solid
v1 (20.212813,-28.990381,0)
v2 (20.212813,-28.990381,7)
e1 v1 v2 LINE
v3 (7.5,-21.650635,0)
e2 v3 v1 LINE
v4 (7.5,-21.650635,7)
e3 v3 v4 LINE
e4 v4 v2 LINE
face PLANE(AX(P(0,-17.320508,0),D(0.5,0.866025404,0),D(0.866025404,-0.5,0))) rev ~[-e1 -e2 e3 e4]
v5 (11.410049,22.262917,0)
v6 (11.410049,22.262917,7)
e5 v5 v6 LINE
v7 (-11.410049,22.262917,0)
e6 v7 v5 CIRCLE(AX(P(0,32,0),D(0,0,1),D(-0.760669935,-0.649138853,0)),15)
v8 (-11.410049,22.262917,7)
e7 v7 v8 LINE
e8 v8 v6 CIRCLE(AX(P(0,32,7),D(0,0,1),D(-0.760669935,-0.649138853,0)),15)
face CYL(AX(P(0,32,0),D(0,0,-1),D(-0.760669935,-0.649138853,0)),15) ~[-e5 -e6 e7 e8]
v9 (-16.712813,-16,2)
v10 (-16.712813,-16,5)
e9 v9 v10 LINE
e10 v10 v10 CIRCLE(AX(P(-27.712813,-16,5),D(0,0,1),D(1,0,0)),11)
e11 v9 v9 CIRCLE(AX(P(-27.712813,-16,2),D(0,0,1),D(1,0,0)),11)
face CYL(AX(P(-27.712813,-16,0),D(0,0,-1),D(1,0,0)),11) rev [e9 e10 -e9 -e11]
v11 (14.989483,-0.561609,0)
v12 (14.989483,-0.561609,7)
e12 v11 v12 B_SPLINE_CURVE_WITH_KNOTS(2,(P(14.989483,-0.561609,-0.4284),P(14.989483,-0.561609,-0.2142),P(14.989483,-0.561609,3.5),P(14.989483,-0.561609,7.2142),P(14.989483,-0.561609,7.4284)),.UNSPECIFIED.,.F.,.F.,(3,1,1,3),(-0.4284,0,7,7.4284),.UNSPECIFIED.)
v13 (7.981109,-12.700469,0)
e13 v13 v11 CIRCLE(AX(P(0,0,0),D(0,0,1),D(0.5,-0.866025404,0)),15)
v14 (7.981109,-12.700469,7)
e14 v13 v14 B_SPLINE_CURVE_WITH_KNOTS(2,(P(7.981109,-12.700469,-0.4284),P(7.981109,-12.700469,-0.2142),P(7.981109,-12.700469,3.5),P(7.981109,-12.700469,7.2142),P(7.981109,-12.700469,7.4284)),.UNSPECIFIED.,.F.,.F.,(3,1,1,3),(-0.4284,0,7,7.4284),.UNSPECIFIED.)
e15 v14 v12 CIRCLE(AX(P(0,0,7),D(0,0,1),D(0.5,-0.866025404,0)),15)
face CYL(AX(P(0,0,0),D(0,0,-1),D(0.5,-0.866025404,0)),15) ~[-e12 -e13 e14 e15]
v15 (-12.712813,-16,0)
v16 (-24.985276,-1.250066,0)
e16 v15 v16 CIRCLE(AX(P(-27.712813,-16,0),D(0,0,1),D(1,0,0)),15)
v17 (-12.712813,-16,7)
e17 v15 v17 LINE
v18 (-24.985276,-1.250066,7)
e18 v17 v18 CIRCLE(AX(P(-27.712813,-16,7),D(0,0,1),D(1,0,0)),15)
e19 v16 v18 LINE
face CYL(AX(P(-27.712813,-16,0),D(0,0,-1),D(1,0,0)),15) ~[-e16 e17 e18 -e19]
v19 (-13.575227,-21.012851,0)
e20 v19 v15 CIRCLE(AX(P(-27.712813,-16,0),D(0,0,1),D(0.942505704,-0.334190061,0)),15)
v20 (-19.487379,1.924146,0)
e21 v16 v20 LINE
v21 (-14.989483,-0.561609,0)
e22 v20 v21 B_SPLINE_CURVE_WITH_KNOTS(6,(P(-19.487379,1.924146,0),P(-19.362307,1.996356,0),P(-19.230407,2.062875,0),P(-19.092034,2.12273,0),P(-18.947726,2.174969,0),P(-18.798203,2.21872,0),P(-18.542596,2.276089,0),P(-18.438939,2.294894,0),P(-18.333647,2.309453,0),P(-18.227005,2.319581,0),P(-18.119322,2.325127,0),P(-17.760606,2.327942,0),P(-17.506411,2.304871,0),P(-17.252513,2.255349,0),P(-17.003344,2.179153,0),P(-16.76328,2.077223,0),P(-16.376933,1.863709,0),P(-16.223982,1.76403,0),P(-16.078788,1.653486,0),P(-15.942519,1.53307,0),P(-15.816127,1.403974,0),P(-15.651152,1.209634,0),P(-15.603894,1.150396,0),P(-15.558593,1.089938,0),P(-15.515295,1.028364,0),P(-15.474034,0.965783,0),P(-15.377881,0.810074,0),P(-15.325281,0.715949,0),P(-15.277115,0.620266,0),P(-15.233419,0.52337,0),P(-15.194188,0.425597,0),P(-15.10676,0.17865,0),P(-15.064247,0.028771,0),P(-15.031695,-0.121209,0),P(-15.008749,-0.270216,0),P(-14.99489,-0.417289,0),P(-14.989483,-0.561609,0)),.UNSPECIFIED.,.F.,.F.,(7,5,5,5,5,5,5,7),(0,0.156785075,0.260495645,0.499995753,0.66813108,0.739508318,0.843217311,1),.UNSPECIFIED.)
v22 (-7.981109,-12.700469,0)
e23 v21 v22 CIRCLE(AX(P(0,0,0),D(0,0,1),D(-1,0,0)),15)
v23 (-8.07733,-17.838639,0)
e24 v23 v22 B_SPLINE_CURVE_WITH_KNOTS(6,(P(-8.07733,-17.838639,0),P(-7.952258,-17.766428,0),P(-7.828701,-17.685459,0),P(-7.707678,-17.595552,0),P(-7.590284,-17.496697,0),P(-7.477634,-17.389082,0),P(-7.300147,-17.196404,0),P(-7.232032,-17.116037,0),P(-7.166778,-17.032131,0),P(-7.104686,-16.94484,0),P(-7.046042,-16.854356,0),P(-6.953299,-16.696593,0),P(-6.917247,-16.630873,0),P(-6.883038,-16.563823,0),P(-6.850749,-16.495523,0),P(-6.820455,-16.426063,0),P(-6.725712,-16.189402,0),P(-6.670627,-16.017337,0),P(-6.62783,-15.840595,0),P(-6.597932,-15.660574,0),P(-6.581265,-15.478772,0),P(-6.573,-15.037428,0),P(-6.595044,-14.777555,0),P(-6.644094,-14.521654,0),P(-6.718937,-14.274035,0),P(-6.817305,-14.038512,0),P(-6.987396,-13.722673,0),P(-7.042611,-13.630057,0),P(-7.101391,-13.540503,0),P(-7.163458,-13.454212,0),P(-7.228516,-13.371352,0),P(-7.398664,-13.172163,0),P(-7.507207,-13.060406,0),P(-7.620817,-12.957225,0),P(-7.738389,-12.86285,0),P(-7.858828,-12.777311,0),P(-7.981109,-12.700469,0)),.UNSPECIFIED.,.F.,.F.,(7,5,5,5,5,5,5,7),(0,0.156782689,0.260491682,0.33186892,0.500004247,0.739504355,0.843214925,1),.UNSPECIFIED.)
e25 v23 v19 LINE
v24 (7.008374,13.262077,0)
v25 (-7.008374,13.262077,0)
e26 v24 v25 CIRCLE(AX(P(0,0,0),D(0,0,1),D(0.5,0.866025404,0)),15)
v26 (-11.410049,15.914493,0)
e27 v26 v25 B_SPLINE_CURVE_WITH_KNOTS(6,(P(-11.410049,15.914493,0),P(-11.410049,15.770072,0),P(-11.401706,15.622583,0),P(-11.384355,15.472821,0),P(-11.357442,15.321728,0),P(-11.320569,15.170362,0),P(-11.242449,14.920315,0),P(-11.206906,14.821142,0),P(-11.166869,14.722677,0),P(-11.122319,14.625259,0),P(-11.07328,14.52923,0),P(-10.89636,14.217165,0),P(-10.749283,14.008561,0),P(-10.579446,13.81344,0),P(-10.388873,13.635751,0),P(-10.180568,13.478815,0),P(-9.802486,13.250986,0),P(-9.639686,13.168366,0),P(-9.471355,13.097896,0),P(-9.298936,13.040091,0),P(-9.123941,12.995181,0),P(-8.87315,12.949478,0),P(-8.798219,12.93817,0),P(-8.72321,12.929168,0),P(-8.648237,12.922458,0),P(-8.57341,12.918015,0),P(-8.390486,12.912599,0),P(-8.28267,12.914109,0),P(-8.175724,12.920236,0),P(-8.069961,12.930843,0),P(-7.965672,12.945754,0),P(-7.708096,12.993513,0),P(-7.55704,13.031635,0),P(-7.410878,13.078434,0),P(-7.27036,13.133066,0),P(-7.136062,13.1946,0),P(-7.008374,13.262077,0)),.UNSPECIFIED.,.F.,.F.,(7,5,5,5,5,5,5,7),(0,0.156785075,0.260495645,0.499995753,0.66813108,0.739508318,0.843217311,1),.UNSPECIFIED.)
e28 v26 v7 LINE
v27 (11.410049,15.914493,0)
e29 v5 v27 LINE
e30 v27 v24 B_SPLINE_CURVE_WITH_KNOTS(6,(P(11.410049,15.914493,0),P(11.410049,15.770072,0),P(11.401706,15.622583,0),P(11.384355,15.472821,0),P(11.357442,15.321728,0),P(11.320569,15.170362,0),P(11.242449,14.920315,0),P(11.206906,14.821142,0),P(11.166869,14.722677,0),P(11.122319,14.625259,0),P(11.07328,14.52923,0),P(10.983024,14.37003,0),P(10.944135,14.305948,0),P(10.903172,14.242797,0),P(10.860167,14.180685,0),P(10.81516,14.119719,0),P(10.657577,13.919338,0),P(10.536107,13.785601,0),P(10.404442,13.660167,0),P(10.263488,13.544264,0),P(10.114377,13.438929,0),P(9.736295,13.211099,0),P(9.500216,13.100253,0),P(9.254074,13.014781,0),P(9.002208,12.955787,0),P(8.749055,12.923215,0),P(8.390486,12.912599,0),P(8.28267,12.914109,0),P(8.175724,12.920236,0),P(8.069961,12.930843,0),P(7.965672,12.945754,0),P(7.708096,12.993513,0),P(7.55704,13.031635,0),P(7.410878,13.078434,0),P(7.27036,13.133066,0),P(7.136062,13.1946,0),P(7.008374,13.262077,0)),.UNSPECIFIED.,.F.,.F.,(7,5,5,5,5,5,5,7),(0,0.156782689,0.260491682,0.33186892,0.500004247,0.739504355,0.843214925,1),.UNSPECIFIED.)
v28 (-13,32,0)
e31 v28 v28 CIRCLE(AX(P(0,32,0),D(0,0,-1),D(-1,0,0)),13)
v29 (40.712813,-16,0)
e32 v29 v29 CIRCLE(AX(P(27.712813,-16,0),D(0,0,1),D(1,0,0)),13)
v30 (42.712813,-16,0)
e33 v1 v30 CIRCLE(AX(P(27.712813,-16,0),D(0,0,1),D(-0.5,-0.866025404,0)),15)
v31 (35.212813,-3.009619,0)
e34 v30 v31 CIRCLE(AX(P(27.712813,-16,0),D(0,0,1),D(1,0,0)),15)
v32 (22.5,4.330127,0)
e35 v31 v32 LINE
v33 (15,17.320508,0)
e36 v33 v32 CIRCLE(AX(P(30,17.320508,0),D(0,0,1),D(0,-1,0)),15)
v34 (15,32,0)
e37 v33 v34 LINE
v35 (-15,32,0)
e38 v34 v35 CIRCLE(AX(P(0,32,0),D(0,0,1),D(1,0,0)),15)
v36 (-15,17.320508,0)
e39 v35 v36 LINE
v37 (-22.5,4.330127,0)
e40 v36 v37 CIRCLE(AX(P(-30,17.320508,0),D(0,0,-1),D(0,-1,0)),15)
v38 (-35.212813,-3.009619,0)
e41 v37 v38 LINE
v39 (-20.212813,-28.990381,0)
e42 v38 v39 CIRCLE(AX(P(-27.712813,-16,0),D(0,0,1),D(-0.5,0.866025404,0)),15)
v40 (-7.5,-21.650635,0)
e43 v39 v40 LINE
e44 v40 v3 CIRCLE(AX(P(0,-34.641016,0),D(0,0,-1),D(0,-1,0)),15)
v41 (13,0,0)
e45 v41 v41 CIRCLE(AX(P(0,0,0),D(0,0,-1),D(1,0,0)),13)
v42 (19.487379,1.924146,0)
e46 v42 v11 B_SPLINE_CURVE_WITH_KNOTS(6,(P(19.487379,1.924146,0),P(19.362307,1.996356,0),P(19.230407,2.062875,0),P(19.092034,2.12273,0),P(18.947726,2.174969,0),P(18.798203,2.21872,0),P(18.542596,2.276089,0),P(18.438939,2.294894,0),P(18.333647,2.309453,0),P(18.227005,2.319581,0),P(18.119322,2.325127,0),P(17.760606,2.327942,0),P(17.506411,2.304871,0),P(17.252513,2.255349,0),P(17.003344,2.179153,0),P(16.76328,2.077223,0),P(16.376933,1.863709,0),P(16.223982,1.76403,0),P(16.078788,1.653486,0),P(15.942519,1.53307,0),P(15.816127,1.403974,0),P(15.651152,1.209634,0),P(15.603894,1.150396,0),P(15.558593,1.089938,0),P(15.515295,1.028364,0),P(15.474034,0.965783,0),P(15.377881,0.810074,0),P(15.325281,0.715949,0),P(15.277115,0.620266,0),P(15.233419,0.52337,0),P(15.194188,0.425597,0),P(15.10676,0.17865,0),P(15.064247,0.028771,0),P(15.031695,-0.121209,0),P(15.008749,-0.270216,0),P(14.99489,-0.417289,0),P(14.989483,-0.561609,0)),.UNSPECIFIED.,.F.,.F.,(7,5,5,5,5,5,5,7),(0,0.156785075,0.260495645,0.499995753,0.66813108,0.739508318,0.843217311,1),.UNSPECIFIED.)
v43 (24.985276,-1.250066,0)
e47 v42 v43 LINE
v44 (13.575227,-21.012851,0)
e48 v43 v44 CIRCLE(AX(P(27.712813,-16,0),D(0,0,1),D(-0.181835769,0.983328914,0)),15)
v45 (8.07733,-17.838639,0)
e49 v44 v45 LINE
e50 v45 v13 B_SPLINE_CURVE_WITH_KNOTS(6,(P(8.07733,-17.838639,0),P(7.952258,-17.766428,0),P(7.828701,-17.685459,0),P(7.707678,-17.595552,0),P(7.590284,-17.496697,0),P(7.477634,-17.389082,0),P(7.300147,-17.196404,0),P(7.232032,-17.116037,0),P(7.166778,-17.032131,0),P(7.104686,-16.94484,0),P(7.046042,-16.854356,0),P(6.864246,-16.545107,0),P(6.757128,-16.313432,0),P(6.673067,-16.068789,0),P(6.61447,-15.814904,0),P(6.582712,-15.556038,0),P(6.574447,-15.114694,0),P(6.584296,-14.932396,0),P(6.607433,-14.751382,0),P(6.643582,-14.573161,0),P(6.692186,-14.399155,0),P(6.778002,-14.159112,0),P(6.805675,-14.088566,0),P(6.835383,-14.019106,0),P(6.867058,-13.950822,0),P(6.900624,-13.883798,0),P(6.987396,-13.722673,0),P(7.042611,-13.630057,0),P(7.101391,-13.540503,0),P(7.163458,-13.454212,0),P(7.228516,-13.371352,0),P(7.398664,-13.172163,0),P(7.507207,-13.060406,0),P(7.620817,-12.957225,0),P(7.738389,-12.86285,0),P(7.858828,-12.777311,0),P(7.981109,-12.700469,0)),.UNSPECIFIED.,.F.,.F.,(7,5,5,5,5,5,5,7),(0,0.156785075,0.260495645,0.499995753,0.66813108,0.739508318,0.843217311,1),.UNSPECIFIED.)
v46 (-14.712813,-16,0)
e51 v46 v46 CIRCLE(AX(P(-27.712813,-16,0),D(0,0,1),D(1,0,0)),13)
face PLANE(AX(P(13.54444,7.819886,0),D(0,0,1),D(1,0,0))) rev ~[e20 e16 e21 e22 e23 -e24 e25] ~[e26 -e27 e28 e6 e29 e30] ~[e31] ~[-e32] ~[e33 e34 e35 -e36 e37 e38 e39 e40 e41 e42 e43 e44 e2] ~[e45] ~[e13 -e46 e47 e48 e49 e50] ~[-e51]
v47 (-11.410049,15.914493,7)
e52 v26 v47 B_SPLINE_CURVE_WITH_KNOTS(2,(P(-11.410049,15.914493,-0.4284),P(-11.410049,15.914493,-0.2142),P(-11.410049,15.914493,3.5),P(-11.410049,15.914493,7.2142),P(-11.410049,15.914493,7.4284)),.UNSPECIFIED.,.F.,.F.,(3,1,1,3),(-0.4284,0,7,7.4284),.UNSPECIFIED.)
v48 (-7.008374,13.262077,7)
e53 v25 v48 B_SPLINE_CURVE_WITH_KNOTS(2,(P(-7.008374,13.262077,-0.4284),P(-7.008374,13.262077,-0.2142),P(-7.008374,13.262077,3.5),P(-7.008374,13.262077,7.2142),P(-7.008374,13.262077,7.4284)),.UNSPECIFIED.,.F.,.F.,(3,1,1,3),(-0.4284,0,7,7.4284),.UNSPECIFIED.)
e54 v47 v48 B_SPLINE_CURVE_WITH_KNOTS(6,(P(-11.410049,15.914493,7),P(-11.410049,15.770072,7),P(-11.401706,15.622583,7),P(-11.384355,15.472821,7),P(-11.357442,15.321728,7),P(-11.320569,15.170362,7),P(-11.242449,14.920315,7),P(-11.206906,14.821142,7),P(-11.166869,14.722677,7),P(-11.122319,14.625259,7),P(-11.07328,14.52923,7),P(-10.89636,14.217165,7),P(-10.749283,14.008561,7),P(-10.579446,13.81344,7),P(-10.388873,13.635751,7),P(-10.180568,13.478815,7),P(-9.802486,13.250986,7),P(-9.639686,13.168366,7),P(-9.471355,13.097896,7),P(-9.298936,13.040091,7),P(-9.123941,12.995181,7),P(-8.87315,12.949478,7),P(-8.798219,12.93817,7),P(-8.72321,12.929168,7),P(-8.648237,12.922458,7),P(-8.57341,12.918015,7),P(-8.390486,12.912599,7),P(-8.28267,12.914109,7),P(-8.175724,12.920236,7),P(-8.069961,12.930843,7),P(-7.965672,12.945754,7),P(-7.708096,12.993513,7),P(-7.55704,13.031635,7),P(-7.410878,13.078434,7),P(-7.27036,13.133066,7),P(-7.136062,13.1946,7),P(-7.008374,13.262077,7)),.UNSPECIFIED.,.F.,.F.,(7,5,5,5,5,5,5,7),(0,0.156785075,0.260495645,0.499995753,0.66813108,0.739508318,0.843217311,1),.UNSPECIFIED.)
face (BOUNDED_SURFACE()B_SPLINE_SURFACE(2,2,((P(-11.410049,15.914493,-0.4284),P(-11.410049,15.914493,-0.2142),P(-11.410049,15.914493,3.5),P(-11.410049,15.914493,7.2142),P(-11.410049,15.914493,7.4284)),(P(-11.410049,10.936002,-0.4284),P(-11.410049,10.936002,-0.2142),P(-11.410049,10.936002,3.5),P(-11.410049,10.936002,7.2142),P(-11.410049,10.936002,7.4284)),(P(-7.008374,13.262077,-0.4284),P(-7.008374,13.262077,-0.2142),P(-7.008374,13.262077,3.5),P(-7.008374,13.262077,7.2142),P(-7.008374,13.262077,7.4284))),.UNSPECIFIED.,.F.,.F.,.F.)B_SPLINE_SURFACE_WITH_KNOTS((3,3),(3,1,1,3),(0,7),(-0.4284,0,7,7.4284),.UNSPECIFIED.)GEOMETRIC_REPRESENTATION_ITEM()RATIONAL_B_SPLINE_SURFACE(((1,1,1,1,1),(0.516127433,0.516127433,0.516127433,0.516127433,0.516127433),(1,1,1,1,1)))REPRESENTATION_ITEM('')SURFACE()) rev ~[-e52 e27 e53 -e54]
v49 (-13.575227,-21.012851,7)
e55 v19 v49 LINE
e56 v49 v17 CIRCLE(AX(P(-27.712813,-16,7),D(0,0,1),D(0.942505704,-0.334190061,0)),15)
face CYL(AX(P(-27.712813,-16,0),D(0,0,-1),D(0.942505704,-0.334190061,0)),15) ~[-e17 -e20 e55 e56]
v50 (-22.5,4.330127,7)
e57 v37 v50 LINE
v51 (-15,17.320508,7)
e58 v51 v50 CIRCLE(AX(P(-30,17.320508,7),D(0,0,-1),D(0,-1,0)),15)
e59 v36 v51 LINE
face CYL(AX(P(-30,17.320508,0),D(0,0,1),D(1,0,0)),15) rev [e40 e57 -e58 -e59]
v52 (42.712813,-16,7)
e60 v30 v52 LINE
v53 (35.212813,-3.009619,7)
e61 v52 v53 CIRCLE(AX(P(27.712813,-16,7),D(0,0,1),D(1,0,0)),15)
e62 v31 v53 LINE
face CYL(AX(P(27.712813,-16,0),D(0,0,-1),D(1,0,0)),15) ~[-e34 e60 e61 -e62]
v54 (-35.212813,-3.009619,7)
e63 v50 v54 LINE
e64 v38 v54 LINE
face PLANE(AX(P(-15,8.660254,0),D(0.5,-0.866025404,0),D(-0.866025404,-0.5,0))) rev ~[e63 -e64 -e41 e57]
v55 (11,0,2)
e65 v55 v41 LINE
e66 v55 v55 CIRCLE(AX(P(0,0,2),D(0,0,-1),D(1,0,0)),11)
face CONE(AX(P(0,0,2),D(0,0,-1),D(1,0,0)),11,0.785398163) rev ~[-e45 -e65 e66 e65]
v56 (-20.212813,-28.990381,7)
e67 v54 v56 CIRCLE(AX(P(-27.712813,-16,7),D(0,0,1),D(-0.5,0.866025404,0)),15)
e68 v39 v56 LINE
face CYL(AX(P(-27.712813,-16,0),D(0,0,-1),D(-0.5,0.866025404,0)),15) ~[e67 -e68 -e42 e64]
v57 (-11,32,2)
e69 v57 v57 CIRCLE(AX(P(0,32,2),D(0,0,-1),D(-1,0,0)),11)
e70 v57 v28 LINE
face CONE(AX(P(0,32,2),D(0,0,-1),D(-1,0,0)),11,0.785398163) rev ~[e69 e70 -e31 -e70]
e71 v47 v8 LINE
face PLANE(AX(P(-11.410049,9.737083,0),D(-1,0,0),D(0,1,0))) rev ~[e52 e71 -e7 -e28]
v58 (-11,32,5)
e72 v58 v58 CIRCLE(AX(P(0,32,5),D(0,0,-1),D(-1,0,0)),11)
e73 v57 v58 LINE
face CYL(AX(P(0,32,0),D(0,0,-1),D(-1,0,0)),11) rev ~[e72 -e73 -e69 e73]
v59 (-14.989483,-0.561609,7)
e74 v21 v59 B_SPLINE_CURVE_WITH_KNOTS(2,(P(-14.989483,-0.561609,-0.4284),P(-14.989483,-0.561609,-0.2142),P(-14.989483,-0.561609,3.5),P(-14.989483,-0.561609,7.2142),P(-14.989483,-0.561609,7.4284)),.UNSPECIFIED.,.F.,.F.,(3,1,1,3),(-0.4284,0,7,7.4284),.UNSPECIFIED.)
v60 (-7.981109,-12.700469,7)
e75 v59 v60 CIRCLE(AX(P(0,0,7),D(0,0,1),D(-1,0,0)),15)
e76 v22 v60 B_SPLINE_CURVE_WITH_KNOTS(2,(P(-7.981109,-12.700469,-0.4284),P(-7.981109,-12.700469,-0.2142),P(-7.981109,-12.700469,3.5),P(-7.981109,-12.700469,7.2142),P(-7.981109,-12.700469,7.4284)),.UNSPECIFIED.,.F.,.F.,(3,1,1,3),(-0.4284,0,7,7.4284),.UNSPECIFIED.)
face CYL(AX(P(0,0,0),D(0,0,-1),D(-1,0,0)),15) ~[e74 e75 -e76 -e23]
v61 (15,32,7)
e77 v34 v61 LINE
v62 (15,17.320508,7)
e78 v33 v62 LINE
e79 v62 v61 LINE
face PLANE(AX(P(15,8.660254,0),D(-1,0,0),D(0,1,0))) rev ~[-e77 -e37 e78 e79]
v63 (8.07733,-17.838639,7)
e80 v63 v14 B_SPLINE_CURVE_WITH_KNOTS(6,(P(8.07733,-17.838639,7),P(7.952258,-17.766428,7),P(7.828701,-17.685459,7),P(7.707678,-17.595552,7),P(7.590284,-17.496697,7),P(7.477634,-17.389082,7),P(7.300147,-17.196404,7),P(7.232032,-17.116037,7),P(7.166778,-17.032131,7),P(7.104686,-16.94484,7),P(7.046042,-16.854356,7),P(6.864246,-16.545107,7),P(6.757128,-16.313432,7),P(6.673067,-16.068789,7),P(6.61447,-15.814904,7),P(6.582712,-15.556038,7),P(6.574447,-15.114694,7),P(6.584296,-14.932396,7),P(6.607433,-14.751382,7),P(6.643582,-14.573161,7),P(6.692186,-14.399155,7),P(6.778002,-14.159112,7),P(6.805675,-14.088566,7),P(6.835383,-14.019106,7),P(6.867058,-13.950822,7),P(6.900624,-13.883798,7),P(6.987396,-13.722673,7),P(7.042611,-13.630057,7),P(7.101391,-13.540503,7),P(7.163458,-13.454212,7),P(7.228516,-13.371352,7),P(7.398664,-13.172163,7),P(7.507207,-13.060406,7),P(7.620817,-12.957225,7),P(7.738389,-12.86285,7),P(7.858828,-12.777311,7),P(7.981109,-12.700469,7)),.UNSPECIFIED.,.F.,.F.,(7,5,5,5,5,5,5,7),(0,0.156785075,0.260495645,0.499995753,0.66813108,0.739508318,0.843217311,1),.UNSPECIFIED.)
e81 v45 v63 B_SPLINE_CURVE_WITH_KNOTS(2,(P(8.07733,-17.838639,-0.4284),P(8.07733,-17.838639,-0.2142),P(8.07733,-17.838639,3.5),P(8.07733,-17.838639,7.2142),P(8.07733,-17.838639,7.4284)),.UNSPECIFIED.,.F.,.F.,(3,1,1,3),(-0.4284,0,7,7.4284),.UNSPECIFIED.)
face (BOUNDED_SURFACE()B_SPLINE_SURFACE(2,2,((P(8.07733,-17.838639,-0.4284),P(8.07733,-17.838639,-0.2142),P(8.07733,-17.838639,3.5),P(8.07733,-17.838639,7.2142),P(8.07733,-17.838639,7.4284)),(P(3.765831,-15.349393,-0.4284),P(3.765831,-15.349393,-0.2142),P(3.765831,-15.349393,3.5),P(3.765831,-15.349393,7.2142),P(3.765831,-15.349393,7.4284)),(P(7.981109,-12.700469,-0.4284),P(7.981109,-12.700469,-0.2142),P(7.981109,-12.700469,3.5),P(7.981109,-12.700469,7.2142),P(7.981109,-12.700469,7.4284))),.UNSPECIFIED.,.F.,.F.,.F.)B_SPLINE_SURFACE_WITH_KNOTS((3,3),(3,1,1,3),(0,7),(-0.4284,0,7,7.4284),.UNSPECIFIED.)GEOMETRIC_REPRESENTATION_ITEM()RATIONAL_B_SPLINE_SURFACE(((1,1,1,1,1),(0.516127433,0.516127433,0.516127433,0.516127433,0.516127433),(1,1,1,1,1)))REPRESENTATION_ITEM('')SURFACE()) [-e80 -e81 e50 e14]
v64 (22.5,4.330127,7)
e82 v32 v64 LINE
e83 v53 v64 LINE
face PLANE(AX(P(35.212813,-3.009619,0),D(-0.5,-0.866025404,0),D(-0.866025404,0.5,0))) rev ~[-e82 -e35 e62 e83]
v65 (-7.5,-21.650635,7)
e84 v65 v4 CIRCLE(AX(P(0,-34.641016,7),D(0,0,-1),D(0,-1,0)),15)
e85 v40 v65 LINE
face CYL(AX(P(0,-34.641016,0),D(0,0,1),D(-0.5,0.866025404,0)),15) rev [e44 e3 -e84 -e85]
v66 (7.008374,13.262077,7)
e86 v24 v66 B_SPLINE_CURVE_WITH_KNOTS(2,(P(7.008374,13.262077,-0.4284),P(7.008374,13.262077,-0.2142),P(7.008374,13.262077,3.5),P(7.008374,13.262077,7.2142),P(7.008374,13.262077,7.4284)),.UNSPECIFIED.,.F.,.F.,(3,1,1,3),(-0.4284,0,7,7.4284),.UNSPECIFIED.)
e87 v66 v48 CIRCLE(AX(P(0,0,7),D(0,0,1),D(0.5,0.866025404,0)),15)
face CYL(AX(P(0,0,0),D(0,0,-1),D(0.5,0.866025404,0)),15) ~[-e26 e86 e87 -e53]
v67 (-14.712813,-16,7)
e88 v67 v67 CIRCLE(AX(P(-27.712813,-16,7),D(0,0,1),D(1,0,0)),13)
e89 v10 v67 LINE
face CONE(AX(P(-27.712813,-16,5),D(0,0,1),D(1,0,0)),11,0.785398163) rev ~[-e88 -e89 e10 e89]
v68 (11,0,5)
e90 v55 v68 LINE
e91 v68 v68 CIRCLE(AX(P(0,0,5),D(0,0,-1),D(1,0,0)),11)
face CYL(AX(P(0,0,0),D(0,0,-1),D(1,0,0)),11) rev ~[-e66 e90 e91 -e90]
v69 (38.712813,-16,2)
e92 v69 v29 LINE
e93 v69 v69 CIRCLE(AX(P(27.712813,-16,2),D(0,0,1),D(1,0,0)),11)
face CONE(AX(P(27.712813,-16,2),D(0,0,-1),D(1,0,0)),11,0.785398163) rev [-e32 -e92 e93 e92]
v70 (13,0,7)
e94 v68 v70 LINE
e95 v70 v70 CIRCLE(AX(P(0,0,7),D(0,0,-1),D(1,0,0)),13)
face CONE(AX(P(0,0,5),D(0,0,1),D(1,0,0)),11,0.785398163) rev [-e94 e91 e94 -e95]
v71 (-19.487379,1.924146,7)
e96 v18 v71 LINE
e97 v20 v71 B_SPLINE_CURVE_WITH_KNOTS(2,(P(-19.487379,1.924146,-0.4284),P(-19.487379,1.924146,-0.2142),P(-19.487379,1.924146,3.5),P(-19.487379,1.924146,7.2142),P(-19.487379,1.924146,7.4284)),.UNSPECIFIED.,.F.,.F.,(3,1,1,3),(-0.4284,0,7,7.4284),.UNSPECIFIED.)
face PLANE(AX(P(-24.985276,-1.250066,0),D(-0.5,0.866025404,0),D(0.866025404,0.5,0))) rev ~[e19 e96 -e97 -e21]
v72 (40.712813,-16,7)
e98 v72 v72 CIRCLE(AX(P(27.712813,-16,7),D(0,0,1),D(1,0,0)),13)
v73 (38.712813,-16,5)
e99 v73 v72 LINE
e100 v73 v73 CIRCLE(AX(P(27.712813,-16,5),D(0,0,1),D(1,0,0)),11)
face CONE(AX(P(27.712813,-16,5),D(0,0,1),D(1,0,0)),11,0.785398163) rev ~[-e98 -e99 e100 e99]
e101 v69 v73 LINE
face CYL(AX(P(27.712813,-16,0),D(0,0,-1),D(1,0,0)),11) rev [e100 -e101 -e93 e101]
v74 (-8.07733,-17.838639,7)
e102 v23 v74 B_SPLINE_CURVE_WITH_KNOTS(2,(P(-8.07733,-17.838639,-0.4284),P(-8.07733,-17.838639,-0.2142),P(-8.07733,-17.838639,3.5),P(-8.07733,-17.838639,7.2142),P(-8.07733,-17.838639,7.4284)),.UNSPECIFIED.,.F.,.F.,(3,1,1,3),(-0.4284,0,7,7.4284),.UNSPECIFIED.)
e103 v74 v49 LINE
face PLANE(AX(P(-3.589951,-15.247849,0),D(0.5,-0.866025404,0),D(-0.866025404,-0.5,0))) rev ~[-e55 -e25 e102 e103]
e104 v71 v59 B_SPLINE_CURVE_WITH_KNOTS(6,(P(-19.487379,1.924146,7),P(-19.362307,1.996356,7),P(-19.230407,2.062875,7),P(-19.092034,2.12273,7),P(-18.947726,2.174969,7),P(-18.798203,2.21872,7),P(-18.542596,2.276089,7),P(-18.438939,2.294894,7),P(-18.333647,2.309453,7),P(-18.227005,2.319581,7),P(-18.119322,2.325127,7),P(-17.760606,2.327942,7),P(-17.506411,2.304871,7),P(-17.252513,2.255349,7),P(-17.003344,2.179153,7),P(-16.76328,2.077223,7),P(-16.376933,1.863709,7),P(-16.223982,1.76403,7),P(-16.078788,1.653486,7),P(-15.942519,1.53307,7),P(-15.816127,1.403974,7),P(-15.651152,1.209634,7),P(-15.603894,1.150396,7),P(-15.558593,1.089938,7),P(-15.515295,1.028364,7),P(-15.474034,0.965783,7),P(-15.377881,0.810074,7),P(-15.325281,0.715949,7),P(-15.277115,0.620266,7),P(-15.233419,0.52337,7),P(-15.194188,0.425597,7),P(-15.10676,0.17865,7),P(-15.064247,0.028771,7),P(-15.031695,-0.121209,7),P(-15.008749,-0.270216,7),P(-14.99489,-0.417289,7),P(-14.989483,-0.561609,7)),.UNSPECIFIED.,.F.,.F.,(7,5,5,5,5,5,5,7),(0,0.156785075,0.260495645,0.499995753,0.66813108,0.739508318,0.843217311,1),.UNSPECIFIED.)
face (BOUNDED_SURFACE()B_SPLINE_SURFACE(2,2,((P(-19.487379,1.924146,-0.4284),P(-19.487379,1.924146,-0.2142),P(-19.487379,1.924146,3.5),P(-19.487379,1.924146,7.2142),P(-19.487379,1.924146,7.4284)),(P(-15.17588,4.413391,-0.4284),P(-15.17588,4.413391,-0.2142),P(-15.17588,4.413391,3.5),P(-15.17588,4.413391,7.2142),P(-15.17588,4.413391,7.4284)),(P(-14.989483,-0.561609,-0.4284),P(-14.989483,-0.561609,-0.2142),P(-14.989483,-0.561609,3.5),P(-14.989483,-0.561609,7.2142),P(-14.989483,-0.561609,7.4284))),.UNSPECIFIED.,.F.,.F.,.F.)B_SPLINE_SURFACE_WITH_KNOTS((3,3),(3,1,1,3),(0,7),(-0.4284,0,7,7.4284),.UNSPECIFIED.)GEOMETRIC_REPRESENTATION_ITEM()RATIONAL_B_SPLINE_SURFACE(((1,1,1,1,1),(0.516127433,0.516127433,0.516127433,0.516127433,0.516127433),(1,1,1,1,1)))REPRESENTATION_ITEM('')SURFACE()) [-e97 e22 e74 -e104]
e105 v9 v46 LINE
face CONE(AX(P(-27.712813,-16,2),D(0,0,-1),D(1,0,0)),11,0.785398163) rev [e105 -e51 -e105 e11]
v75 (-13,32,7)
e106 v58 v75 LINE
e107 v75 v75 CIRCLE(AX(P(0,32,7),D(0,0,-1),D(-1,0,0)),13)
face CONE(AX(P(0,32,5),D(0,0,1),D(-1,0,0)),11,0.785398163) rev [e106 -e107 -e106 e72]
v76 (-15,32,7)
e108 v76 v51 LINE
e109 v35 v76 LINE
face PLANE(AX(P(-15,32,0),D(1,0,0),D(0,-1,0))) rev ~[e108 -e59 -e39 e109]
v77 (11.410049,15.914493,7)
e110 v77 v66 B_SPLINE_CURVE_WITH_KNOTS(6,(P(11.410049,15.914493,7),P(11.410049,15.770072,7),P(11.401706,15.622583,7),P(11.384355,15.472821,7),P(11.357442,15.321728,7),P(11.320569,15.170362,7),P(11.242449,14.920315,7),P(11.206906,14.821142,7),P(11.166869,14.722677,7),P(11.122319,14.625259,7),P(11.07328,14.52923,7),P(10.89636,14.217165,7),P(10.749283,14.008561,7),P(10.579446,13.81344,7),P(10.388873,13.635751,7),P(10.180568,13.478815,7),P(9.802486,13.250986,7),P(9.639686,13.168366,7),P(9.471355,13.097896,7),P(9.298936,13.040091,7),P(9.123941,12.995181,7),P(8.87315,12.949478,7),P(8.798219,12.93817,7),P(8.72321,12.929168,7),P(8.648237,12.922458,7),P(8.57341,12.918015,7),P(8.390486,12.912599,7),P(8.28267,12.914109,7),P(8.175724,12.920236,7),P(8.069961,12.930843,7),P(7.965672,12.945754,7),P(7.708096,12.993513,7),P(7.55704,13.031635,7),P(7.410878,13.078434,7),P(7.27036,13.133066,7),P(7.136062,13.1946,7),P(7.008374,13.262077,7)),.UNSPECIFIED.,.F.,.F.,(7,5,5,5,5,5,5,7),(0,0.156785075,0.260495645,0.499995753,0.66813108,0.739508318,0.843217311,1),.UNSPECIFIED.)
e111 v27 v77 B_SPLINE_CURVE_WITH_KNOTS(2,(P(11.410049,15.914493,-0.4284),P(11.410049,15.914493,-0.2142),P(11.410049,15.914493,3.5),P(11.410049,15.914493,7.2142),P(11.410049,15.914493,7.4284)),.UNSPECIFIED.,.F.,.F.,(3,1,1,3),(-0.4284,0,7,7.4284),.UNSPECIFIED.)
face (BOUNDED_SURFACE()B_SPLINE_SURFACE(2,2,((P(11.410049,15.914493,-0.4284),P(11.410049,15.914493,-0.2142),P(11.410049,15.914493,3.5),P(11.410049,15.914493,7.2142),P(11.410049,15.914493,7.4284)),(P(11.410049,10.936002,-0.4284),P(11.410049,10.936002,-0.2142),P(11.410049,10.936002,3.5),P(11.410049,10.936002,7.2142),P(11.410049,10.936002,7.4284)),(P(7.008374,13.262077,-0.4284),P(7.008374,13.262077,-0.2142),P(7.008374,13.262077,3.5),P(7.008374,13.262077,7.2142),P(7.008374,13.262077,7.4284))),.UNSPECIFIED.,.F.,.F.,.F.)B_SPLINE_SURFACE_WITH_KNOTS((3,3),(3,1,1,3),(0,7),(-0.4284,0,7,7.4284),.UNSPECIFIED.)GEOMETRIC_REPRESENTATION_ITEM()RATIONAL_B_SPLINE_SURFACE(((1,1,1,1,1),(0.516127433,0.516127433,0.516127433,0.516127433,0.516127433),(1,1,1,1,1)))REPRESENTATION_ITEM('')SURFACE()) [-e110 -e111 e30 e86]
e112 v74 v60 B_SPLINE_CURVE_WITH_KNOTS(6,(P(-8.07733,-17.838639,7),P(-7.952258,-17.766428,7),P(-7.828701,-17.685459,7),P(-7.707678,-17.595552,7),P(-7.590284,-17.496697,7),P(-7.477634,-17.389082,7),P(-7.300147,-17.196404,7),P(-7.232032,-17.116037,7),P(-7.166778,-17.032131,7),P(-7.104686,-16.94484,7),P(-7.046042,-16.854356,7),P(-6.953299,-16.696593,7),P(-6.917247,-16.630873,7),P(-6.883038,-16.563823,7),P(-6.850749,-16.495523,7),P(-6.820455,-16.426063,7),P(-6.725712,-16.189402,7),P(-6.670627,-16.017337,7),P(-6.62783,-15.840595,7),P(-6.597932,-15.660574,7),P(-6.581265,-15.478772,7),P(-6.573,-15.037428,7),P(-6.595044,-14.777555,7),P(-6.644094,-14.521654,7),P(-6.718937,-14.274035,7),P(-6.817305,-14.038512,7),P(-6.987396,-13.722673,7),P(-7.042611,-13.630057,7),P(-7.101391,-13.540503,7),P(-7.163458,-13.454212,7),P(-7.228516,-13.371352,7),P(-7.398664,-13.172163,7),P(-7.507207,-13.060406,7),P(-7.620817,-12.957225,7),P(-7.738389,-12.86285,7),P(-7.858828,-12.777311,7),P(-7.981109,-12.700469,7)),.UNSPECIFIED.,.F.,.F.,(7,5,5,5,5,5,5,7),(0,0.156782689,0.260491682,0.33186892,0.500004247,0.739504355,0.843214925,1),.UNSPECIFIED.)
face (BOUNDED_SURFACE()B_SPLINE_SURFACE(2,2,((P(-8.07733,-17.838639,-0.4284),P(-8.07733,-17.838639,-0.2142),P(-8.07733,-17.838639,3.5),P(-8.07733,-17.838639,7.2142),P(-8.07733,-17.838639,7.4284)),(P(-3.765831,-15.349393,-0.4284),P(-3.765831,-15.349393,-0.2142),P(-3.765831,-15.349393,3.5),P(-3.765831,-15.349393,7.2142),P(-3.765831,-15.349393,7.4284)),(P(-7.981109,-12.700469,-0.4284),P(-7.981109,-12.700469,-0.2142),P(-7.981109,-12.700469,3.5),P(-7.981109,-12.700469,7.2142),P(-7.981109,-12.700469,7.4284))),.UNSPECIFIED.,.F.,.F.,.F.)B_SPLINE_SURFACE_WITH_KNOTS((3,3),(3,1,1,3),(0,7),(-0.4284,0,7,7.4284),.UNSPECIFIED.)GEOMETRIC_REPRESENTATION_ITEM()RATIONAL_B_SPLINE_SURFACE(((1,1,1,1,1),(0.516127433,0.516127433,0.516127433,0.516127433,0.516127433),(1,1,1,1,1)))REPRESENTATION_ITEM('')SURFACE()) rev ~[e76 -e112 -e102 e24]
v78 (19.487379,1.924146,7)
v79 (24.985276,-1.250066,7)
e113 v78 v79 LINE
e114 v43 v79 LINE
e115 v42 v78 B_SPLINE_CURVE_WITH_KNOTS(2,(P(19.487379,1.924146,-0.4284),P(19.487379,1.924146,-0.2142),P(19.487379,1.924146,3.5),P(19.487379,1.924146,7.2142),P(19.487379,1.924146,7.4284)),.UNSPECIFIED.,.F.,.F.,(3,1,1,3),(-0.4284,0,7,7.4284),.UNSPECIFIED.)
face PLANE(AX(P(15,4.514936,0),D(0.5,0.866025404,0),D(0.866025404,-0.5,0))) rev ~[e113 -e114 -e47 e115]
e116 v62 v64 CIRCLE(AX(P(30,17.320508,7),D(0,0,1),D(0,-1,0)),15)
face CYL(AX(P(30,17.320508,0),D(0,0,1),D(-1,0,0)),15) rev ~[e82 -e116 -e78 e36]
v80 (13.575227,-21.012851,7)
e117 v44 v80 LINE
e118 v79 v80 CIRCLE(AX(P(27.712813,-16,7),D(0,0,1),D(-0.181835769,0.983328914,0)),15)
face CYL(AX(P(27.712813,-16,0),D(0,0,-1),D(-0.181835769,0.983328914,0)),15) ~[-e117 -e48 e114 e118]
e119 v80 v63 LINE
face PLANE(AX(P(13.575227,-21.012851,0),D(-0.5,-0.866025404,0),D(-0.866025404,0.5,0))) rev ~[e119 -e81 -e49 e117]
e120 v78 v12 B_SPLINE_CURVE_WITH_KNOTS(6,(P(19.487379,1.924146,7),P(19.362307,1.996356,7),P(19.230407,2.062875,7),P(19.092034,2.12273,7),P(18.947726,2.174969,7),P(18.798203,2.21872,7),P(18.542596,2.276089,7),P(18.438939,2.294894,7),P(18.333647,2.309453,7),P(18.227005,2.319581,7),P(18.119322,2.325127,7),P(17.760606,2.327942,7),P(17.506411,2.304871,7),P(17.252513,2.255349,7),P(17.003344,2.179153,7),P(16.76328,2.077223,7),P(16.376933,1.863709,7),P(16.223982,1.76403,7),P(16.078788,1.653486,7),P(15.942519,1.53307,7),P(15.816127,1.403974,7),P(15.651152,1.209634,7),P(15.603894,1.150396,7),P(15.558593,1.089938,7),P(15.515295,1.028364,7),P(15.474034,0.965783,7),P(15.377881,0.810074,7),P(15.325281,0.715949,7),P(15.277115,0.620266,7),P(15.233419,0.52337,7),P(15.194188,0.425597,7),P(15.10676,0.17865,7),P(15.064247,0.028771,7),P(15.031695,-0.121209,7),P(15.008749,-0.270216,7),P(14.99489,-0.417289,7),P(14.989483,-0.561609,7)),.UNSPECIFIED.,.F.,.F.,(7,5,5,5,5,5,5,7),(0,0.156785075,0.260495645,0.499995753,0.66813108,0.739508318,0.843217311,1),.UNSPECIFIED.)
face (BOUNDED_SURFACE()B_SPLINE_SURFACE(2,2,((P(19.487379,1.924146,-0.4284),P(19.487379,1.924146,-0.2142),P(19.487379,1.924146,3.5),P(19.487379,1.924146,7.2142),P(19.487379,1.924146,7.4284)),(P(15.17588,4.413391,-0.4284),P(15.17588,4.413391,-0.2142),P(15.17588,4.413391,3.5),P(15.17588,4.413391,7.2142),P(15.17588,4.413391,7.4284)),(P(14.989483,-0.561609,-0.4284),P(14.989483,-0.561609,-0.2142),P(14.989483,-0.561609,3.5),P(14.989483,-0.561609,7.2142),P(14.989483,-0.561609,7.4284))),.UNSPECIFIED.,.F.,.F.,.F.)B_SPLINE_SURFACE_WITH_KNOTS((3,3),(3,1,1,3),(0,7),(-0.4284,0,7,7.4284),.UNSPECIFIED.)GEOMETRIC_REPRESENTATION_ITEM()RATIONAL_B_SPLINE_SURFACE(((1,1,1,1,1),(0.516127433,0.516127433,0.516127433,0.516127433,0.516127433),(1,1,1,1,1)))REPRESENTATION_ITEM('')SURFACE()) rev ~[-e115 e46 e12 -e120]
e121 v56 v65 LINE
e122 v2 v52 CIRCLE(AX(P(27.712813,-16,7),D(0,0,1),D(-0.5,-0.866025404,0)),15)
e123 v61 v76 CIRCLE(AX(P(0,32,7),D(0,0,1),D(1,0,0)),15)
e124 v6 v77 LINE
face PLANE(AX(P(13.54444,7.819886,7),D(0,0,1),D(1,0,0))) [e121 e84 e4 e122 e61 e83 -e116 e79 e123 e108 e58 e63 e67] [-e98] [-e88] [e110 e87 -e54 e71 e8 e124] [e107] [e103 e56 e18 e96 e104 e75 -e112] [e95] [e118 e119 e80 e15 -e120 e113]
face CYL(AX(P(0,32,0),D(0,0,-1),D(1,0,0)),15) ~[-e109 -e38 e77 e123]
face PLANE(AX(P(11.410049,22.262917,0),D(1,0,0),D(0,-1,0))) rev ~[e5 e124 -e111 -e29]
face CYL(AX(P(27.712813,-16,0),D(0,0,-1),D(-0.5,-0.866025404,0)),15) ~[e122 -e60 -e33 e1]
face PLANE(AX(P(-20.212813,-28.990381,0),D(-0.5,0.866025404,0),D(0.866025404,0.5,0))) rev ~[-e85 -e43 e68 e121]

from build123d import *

# Parameters (mm, degrees)
F0_R     = 11
F1_DEPTH = 7
F2_SIZE  = 2
F3_R     = 15
F4_R     = 3


with BuildPart() as f1:
    # F0 (on Top) → F1 (new body)
    with BuildSketch(Plane.XY):
        with BuildLine():
            ThreePointArc((11.4100490265, 9.7370827876), (12.9903810568, 7.5), (14.1375855661, 5.0128509216))
            Line((14.1375855661, 5.0128509216), (15, 4.514935716))
            Line((15, 4.514935716), (15, 8.6602540378))
            Line((15, 8.6602540378), (11.4100490265, 10.7329131988))
            Line((11.4100490265, 10.7329131988), (11.4100490265, 9.7370827876))
        make_face()
        with BuildLine():
            Line((15, 8.6602540378), (15, 4.514935716))
            Line((15, 4.514935716), (24.9852763815, -1.2500662908))
            ThreePointArc((24.9852763815, -1.2500662908), (30.2560605014, -1.2171757859), (35.2128129211, -3.0096189432))
            Line((35.2128129211, -3.0096189432), (15, 8.6602540378))
        make_face()
        with BuildLine():
            Line((-15, 4.514935716), (-14.1375855661, 5.0128509216))
            ThreePointArc((-14.1375855661, 5.0128509216), (-12.9903810568, 7.5), (-11.4100490265, 9.7370827876))
            Line((-11.4100490265, 9.7370827876), (-11.4100490265, 10.7329131988))
            Line((-11.4100490265, 10.7329131988), (-15, 8.6602540378))
            Line((-15, 8.6602540378), (-15, 4.514935716))
        make_face()
        with BuildLine():
            Line((-24.9852763815, -1.2500662908), (-15, 4.514935716))
            Line((-15, 4.514935716), (-15, 8.6602540378))
            Line((-15, 8.6602540378), (-35.2128129211, -3.0096189432))
            ThreePointArc((-35.2128129211, -3.0096189432), (-30.2560605014, -1.2171757859), (-24.9852763815, -1.2500662908))
        make_face()
        with BuildLine():
            Line((3.5899509735, -15.2478489148), (2.7275365396, -14.7499337092))
            ThreePointArc((2.7275365396, -14.7499337092), (0, -15), (-2.7275365396, -14.7499337092))
            Line((-2.7275365396, -14.7499337092), (-3.5899509735, -15.2478489148))
            Line((-3.5899509735, -15.2478489148), (0, -17.3205080757))
            Line((0, -17.3205080757), (3.5899509735, -15.2478489148))
        make_face()
        with BuildLine():
            Line((13.575227355, -21.0128509216), (3.5899509735, -15.2478489148))
            Line((3.5899509735, -15.2478489148), (0, -17.3205080757))
            Line((0, -17.3205080757), (20.2128129211, -28.9903810568))
            ThreePointArc((20.2128129211, -28.9903810568), (16.1821354021, -25.5939291197), (13.575227355, -21.0128509216))
        make_face()
        with BuildLine():
            Line((11.4100490265, 10.7329131988), (15, 8.6602540378))
            Line((15, 8.6602540378), (15, 32))
            ThreePointArc((15, 32), (14.0739250992, 26.8111049056), (11.4100490265, 22.2629172124))
            Line((11.4100490265, 22.2629172124), (11.4100490265, 10.7329131988))
        make_face()
        with BuildLine():
            ThreePointArc((35.2128129211, -3.0096189432), (30.2560605014, -1.2171757859), (24.9852763815, -1.2500662908))
            ThreePointArc((24.9852763815, -1.2500662908), (14.7224318643, -8.5), (13.575227355, -21.0128509216))
            ThreePointArc((13.575227355, -21.0128509216), (16.1821354021, -25.5939291197), (20.2128129211, -28.9903810568))
            ThreePointArc((20.2128129211, -28.9903810568), (35.2128129211, -28.9903810568), (42.7128129211, -16))
            ThreePointArc((42.7128129211, -16), (40.7031939779, -8.5), (35.2128129211, -3.0096189432))
        make_face()
        with Locations((27.7128129211, -16)):
            Circle(F0_R, mode=Mode.SUBTRACT)
        with BuildLine():
            Line((0, -17.3205080757), (-3.5899509735, -15.2478489148))
            Line((-3.5899509735, -15.2478489148), (-13.575227355, -21.0128509216))
            ThreePointArc((-13.575227355, -21.0128509216), (-16.1821354021, -25.5939291197), (-20.2128129211, -28.9903810568))
            Line((-20.2128129211, -28.9903810568), (0, -17.3205080757))
        make_face()
        with BuildLine():
            Line((-15, 32), (-15, 8.6602540378))
            Line((-15, 8.6602540378), (-11.4100490265, 10.7329131988))
            Line((-11.4100490265, 10.7329131988), (-11.4100490265, 22.2629172124))
            ThreePointArc((-11.4100490265, 22.2629172124), (-14.0739250992, 26.8111049056), (-15, 32))
        make_face()
        with BuildLine():
            ThreePointArc((-12.7128129211, -16), (-16.1821354021, -6.4060708803), (-24.9852763815, -1.2500662908))
            ThreePointArc((-24.9852763815, -1.2500662908), (-30.2560605014, -1.2171757859), (-35.2128129211, -3.0096189432))
            ThreePointArc((-35.2128129211, -3.0096189432), (-40.7031939779, -23.5), (-20.2128129211, -28.9903810568))
            ThreePointArc((-20.2128129211, -28.9903810568), (-16.1821354021, -25.5939291197), (-13.575227355, -21.0128509216))
            ThreePointArc((-13.575227355, -21.0128509216), (-12.929988707, -18.5432475803), (-12.7128129211, -16))
        make_face()
        with Locations((-27.7128129211, -16)):
            Circle(F0_R, mode=Mode.SUBTRACT)
        with BuildLine():
            Line((11, 32), (15, 32))
            ThreePointArc((15, 32), (0, 47), (-15, 32))
            Line((-15, 32), (-11, 32))
            ThreePointArc((-11, 32), (0, 43), (11, 32))
        make_face()
        with BuildLine():
            ThreePointArc((11.4100490265, 22.2629172124), (14.0739250992, 26.8111049056), (15, 32))
            Line((15, 32), (11, 32))
            ThreePointArc((11, 32), (0, 21), (-11, 32))
            Line((-11, 32), (-15, 32))
            ThreePointArc((-15, 32), (-14.0739250992, 26.8111049056), (-11.4100490265, 22.2629172124))
            ThreePointArc((-11.4100490265, 22.2629172124), (0, 17), (11.4100490265, 22.2629172124))
        make_face()
        with BuildLine():
            ThreePointArc((-11, 0), (0, 11), (11, 0))
            Line((11, 0), (15, 0))
            ThreePointArc((15, 0), (14.7828242141, 2.5432475803), (14.1375855661, 5.0128509216))
            ThreePointArc((14.1375855661, 5.0128509216), (12.9903810568, 7.5), (11.4100490265, 9.7370827876))
            ThreePointArc((11.4100490265, 9.7370827876), (9.5939291197, 11.530677519), (7.5, 12.9903810568))
            ThreePointArc((7.5, 12.9903810568), (0, 15), (-7.5, 12.9903810568))
            ThreePointArc((-7.5, 12.9903810568), (-9.5939291197, 11.530677519), (-11.4100490265, 9.7370827876))
            ThreePointArc((-11.4100490265, 9.7370827876), (-12.9903810568, 7.5), (-14.1375855661, 5.0128509216))
            ThreePointArc((-14.1375855661, 5.0128509216), (-14.7828242141, 2.5432475803), (-15, 0))
            Line((-15, 0), (-11, 0))
        make_face()
        with BuildLine():
            Line((15, 0), (11, 0))
            ThreePointArc((11, 0), (0, -11), (-11, 0))
            Line((-11, 0), (-15, 0))
            ThreePointArc((-15, 0), (-12.9903810568, -7.5), (-7.5, -12.9903810568))
            ThreePointArc((-7.5, -12.9903810568), (-5.1888950944, -14.0739250992), (-2.7275365396, -14.7499337092))
            ThreePointArc((-2.7275365396, -14.7499337092), (0, -15), (2.7275365396, -14.7499337092))
            ThreePointArc((2.7275365396, -14.7499337092), (5.1888950944, -14.0739250992), (7.5, -12.9903810568))
            ThreePointArc((7.5, -12.9903810568), (12.9903810568, -7.5), (15, 0))
        make_face()
    extrude(amount=F1_DEPTH)

    # F2
    f2_edges = [f1.edges().sort_by_distance(p)[0] for p in [
        (-11, 0, 7),
        (11, 32, 7),
        (16.712813, -16, 7),
        (16.712813, -16, 0),
        (11, 32, 0),
        (-11, 0, 0),
        (-38.712813, -16, 0),
        (-38.712813, -16, 7),
    ]]
    chamfer(f2_edges, length=F2_SIZE)

    # F3
    f3_edges = [f1.edges().sort_by_distance(p)[0] for p in [
        (0, -17.320508, 3.5),
        (15, 8.660254, 3.5),
        (-15, 8.660254, 3.5),
    ]]
    fillet(f3_edges, radius=F3_R)

    # F4
    f4_edges = [f1.edges().sort_by_distance(p)[0] for p in [
        (-11.410049, 9.737083, 3.5),
        (11.410049, 9.737083, 3.5),
        (14.137586, 5.012851, 3.5),
        (-14.137586, 5.012851, 3.5),
        (2.727537, -14.749934, 3.5),
        (-2.727537, -14.749934, 3.5),
    ]]
    fillet(f4_edges, radius=F4_R)


solid = f1.part
